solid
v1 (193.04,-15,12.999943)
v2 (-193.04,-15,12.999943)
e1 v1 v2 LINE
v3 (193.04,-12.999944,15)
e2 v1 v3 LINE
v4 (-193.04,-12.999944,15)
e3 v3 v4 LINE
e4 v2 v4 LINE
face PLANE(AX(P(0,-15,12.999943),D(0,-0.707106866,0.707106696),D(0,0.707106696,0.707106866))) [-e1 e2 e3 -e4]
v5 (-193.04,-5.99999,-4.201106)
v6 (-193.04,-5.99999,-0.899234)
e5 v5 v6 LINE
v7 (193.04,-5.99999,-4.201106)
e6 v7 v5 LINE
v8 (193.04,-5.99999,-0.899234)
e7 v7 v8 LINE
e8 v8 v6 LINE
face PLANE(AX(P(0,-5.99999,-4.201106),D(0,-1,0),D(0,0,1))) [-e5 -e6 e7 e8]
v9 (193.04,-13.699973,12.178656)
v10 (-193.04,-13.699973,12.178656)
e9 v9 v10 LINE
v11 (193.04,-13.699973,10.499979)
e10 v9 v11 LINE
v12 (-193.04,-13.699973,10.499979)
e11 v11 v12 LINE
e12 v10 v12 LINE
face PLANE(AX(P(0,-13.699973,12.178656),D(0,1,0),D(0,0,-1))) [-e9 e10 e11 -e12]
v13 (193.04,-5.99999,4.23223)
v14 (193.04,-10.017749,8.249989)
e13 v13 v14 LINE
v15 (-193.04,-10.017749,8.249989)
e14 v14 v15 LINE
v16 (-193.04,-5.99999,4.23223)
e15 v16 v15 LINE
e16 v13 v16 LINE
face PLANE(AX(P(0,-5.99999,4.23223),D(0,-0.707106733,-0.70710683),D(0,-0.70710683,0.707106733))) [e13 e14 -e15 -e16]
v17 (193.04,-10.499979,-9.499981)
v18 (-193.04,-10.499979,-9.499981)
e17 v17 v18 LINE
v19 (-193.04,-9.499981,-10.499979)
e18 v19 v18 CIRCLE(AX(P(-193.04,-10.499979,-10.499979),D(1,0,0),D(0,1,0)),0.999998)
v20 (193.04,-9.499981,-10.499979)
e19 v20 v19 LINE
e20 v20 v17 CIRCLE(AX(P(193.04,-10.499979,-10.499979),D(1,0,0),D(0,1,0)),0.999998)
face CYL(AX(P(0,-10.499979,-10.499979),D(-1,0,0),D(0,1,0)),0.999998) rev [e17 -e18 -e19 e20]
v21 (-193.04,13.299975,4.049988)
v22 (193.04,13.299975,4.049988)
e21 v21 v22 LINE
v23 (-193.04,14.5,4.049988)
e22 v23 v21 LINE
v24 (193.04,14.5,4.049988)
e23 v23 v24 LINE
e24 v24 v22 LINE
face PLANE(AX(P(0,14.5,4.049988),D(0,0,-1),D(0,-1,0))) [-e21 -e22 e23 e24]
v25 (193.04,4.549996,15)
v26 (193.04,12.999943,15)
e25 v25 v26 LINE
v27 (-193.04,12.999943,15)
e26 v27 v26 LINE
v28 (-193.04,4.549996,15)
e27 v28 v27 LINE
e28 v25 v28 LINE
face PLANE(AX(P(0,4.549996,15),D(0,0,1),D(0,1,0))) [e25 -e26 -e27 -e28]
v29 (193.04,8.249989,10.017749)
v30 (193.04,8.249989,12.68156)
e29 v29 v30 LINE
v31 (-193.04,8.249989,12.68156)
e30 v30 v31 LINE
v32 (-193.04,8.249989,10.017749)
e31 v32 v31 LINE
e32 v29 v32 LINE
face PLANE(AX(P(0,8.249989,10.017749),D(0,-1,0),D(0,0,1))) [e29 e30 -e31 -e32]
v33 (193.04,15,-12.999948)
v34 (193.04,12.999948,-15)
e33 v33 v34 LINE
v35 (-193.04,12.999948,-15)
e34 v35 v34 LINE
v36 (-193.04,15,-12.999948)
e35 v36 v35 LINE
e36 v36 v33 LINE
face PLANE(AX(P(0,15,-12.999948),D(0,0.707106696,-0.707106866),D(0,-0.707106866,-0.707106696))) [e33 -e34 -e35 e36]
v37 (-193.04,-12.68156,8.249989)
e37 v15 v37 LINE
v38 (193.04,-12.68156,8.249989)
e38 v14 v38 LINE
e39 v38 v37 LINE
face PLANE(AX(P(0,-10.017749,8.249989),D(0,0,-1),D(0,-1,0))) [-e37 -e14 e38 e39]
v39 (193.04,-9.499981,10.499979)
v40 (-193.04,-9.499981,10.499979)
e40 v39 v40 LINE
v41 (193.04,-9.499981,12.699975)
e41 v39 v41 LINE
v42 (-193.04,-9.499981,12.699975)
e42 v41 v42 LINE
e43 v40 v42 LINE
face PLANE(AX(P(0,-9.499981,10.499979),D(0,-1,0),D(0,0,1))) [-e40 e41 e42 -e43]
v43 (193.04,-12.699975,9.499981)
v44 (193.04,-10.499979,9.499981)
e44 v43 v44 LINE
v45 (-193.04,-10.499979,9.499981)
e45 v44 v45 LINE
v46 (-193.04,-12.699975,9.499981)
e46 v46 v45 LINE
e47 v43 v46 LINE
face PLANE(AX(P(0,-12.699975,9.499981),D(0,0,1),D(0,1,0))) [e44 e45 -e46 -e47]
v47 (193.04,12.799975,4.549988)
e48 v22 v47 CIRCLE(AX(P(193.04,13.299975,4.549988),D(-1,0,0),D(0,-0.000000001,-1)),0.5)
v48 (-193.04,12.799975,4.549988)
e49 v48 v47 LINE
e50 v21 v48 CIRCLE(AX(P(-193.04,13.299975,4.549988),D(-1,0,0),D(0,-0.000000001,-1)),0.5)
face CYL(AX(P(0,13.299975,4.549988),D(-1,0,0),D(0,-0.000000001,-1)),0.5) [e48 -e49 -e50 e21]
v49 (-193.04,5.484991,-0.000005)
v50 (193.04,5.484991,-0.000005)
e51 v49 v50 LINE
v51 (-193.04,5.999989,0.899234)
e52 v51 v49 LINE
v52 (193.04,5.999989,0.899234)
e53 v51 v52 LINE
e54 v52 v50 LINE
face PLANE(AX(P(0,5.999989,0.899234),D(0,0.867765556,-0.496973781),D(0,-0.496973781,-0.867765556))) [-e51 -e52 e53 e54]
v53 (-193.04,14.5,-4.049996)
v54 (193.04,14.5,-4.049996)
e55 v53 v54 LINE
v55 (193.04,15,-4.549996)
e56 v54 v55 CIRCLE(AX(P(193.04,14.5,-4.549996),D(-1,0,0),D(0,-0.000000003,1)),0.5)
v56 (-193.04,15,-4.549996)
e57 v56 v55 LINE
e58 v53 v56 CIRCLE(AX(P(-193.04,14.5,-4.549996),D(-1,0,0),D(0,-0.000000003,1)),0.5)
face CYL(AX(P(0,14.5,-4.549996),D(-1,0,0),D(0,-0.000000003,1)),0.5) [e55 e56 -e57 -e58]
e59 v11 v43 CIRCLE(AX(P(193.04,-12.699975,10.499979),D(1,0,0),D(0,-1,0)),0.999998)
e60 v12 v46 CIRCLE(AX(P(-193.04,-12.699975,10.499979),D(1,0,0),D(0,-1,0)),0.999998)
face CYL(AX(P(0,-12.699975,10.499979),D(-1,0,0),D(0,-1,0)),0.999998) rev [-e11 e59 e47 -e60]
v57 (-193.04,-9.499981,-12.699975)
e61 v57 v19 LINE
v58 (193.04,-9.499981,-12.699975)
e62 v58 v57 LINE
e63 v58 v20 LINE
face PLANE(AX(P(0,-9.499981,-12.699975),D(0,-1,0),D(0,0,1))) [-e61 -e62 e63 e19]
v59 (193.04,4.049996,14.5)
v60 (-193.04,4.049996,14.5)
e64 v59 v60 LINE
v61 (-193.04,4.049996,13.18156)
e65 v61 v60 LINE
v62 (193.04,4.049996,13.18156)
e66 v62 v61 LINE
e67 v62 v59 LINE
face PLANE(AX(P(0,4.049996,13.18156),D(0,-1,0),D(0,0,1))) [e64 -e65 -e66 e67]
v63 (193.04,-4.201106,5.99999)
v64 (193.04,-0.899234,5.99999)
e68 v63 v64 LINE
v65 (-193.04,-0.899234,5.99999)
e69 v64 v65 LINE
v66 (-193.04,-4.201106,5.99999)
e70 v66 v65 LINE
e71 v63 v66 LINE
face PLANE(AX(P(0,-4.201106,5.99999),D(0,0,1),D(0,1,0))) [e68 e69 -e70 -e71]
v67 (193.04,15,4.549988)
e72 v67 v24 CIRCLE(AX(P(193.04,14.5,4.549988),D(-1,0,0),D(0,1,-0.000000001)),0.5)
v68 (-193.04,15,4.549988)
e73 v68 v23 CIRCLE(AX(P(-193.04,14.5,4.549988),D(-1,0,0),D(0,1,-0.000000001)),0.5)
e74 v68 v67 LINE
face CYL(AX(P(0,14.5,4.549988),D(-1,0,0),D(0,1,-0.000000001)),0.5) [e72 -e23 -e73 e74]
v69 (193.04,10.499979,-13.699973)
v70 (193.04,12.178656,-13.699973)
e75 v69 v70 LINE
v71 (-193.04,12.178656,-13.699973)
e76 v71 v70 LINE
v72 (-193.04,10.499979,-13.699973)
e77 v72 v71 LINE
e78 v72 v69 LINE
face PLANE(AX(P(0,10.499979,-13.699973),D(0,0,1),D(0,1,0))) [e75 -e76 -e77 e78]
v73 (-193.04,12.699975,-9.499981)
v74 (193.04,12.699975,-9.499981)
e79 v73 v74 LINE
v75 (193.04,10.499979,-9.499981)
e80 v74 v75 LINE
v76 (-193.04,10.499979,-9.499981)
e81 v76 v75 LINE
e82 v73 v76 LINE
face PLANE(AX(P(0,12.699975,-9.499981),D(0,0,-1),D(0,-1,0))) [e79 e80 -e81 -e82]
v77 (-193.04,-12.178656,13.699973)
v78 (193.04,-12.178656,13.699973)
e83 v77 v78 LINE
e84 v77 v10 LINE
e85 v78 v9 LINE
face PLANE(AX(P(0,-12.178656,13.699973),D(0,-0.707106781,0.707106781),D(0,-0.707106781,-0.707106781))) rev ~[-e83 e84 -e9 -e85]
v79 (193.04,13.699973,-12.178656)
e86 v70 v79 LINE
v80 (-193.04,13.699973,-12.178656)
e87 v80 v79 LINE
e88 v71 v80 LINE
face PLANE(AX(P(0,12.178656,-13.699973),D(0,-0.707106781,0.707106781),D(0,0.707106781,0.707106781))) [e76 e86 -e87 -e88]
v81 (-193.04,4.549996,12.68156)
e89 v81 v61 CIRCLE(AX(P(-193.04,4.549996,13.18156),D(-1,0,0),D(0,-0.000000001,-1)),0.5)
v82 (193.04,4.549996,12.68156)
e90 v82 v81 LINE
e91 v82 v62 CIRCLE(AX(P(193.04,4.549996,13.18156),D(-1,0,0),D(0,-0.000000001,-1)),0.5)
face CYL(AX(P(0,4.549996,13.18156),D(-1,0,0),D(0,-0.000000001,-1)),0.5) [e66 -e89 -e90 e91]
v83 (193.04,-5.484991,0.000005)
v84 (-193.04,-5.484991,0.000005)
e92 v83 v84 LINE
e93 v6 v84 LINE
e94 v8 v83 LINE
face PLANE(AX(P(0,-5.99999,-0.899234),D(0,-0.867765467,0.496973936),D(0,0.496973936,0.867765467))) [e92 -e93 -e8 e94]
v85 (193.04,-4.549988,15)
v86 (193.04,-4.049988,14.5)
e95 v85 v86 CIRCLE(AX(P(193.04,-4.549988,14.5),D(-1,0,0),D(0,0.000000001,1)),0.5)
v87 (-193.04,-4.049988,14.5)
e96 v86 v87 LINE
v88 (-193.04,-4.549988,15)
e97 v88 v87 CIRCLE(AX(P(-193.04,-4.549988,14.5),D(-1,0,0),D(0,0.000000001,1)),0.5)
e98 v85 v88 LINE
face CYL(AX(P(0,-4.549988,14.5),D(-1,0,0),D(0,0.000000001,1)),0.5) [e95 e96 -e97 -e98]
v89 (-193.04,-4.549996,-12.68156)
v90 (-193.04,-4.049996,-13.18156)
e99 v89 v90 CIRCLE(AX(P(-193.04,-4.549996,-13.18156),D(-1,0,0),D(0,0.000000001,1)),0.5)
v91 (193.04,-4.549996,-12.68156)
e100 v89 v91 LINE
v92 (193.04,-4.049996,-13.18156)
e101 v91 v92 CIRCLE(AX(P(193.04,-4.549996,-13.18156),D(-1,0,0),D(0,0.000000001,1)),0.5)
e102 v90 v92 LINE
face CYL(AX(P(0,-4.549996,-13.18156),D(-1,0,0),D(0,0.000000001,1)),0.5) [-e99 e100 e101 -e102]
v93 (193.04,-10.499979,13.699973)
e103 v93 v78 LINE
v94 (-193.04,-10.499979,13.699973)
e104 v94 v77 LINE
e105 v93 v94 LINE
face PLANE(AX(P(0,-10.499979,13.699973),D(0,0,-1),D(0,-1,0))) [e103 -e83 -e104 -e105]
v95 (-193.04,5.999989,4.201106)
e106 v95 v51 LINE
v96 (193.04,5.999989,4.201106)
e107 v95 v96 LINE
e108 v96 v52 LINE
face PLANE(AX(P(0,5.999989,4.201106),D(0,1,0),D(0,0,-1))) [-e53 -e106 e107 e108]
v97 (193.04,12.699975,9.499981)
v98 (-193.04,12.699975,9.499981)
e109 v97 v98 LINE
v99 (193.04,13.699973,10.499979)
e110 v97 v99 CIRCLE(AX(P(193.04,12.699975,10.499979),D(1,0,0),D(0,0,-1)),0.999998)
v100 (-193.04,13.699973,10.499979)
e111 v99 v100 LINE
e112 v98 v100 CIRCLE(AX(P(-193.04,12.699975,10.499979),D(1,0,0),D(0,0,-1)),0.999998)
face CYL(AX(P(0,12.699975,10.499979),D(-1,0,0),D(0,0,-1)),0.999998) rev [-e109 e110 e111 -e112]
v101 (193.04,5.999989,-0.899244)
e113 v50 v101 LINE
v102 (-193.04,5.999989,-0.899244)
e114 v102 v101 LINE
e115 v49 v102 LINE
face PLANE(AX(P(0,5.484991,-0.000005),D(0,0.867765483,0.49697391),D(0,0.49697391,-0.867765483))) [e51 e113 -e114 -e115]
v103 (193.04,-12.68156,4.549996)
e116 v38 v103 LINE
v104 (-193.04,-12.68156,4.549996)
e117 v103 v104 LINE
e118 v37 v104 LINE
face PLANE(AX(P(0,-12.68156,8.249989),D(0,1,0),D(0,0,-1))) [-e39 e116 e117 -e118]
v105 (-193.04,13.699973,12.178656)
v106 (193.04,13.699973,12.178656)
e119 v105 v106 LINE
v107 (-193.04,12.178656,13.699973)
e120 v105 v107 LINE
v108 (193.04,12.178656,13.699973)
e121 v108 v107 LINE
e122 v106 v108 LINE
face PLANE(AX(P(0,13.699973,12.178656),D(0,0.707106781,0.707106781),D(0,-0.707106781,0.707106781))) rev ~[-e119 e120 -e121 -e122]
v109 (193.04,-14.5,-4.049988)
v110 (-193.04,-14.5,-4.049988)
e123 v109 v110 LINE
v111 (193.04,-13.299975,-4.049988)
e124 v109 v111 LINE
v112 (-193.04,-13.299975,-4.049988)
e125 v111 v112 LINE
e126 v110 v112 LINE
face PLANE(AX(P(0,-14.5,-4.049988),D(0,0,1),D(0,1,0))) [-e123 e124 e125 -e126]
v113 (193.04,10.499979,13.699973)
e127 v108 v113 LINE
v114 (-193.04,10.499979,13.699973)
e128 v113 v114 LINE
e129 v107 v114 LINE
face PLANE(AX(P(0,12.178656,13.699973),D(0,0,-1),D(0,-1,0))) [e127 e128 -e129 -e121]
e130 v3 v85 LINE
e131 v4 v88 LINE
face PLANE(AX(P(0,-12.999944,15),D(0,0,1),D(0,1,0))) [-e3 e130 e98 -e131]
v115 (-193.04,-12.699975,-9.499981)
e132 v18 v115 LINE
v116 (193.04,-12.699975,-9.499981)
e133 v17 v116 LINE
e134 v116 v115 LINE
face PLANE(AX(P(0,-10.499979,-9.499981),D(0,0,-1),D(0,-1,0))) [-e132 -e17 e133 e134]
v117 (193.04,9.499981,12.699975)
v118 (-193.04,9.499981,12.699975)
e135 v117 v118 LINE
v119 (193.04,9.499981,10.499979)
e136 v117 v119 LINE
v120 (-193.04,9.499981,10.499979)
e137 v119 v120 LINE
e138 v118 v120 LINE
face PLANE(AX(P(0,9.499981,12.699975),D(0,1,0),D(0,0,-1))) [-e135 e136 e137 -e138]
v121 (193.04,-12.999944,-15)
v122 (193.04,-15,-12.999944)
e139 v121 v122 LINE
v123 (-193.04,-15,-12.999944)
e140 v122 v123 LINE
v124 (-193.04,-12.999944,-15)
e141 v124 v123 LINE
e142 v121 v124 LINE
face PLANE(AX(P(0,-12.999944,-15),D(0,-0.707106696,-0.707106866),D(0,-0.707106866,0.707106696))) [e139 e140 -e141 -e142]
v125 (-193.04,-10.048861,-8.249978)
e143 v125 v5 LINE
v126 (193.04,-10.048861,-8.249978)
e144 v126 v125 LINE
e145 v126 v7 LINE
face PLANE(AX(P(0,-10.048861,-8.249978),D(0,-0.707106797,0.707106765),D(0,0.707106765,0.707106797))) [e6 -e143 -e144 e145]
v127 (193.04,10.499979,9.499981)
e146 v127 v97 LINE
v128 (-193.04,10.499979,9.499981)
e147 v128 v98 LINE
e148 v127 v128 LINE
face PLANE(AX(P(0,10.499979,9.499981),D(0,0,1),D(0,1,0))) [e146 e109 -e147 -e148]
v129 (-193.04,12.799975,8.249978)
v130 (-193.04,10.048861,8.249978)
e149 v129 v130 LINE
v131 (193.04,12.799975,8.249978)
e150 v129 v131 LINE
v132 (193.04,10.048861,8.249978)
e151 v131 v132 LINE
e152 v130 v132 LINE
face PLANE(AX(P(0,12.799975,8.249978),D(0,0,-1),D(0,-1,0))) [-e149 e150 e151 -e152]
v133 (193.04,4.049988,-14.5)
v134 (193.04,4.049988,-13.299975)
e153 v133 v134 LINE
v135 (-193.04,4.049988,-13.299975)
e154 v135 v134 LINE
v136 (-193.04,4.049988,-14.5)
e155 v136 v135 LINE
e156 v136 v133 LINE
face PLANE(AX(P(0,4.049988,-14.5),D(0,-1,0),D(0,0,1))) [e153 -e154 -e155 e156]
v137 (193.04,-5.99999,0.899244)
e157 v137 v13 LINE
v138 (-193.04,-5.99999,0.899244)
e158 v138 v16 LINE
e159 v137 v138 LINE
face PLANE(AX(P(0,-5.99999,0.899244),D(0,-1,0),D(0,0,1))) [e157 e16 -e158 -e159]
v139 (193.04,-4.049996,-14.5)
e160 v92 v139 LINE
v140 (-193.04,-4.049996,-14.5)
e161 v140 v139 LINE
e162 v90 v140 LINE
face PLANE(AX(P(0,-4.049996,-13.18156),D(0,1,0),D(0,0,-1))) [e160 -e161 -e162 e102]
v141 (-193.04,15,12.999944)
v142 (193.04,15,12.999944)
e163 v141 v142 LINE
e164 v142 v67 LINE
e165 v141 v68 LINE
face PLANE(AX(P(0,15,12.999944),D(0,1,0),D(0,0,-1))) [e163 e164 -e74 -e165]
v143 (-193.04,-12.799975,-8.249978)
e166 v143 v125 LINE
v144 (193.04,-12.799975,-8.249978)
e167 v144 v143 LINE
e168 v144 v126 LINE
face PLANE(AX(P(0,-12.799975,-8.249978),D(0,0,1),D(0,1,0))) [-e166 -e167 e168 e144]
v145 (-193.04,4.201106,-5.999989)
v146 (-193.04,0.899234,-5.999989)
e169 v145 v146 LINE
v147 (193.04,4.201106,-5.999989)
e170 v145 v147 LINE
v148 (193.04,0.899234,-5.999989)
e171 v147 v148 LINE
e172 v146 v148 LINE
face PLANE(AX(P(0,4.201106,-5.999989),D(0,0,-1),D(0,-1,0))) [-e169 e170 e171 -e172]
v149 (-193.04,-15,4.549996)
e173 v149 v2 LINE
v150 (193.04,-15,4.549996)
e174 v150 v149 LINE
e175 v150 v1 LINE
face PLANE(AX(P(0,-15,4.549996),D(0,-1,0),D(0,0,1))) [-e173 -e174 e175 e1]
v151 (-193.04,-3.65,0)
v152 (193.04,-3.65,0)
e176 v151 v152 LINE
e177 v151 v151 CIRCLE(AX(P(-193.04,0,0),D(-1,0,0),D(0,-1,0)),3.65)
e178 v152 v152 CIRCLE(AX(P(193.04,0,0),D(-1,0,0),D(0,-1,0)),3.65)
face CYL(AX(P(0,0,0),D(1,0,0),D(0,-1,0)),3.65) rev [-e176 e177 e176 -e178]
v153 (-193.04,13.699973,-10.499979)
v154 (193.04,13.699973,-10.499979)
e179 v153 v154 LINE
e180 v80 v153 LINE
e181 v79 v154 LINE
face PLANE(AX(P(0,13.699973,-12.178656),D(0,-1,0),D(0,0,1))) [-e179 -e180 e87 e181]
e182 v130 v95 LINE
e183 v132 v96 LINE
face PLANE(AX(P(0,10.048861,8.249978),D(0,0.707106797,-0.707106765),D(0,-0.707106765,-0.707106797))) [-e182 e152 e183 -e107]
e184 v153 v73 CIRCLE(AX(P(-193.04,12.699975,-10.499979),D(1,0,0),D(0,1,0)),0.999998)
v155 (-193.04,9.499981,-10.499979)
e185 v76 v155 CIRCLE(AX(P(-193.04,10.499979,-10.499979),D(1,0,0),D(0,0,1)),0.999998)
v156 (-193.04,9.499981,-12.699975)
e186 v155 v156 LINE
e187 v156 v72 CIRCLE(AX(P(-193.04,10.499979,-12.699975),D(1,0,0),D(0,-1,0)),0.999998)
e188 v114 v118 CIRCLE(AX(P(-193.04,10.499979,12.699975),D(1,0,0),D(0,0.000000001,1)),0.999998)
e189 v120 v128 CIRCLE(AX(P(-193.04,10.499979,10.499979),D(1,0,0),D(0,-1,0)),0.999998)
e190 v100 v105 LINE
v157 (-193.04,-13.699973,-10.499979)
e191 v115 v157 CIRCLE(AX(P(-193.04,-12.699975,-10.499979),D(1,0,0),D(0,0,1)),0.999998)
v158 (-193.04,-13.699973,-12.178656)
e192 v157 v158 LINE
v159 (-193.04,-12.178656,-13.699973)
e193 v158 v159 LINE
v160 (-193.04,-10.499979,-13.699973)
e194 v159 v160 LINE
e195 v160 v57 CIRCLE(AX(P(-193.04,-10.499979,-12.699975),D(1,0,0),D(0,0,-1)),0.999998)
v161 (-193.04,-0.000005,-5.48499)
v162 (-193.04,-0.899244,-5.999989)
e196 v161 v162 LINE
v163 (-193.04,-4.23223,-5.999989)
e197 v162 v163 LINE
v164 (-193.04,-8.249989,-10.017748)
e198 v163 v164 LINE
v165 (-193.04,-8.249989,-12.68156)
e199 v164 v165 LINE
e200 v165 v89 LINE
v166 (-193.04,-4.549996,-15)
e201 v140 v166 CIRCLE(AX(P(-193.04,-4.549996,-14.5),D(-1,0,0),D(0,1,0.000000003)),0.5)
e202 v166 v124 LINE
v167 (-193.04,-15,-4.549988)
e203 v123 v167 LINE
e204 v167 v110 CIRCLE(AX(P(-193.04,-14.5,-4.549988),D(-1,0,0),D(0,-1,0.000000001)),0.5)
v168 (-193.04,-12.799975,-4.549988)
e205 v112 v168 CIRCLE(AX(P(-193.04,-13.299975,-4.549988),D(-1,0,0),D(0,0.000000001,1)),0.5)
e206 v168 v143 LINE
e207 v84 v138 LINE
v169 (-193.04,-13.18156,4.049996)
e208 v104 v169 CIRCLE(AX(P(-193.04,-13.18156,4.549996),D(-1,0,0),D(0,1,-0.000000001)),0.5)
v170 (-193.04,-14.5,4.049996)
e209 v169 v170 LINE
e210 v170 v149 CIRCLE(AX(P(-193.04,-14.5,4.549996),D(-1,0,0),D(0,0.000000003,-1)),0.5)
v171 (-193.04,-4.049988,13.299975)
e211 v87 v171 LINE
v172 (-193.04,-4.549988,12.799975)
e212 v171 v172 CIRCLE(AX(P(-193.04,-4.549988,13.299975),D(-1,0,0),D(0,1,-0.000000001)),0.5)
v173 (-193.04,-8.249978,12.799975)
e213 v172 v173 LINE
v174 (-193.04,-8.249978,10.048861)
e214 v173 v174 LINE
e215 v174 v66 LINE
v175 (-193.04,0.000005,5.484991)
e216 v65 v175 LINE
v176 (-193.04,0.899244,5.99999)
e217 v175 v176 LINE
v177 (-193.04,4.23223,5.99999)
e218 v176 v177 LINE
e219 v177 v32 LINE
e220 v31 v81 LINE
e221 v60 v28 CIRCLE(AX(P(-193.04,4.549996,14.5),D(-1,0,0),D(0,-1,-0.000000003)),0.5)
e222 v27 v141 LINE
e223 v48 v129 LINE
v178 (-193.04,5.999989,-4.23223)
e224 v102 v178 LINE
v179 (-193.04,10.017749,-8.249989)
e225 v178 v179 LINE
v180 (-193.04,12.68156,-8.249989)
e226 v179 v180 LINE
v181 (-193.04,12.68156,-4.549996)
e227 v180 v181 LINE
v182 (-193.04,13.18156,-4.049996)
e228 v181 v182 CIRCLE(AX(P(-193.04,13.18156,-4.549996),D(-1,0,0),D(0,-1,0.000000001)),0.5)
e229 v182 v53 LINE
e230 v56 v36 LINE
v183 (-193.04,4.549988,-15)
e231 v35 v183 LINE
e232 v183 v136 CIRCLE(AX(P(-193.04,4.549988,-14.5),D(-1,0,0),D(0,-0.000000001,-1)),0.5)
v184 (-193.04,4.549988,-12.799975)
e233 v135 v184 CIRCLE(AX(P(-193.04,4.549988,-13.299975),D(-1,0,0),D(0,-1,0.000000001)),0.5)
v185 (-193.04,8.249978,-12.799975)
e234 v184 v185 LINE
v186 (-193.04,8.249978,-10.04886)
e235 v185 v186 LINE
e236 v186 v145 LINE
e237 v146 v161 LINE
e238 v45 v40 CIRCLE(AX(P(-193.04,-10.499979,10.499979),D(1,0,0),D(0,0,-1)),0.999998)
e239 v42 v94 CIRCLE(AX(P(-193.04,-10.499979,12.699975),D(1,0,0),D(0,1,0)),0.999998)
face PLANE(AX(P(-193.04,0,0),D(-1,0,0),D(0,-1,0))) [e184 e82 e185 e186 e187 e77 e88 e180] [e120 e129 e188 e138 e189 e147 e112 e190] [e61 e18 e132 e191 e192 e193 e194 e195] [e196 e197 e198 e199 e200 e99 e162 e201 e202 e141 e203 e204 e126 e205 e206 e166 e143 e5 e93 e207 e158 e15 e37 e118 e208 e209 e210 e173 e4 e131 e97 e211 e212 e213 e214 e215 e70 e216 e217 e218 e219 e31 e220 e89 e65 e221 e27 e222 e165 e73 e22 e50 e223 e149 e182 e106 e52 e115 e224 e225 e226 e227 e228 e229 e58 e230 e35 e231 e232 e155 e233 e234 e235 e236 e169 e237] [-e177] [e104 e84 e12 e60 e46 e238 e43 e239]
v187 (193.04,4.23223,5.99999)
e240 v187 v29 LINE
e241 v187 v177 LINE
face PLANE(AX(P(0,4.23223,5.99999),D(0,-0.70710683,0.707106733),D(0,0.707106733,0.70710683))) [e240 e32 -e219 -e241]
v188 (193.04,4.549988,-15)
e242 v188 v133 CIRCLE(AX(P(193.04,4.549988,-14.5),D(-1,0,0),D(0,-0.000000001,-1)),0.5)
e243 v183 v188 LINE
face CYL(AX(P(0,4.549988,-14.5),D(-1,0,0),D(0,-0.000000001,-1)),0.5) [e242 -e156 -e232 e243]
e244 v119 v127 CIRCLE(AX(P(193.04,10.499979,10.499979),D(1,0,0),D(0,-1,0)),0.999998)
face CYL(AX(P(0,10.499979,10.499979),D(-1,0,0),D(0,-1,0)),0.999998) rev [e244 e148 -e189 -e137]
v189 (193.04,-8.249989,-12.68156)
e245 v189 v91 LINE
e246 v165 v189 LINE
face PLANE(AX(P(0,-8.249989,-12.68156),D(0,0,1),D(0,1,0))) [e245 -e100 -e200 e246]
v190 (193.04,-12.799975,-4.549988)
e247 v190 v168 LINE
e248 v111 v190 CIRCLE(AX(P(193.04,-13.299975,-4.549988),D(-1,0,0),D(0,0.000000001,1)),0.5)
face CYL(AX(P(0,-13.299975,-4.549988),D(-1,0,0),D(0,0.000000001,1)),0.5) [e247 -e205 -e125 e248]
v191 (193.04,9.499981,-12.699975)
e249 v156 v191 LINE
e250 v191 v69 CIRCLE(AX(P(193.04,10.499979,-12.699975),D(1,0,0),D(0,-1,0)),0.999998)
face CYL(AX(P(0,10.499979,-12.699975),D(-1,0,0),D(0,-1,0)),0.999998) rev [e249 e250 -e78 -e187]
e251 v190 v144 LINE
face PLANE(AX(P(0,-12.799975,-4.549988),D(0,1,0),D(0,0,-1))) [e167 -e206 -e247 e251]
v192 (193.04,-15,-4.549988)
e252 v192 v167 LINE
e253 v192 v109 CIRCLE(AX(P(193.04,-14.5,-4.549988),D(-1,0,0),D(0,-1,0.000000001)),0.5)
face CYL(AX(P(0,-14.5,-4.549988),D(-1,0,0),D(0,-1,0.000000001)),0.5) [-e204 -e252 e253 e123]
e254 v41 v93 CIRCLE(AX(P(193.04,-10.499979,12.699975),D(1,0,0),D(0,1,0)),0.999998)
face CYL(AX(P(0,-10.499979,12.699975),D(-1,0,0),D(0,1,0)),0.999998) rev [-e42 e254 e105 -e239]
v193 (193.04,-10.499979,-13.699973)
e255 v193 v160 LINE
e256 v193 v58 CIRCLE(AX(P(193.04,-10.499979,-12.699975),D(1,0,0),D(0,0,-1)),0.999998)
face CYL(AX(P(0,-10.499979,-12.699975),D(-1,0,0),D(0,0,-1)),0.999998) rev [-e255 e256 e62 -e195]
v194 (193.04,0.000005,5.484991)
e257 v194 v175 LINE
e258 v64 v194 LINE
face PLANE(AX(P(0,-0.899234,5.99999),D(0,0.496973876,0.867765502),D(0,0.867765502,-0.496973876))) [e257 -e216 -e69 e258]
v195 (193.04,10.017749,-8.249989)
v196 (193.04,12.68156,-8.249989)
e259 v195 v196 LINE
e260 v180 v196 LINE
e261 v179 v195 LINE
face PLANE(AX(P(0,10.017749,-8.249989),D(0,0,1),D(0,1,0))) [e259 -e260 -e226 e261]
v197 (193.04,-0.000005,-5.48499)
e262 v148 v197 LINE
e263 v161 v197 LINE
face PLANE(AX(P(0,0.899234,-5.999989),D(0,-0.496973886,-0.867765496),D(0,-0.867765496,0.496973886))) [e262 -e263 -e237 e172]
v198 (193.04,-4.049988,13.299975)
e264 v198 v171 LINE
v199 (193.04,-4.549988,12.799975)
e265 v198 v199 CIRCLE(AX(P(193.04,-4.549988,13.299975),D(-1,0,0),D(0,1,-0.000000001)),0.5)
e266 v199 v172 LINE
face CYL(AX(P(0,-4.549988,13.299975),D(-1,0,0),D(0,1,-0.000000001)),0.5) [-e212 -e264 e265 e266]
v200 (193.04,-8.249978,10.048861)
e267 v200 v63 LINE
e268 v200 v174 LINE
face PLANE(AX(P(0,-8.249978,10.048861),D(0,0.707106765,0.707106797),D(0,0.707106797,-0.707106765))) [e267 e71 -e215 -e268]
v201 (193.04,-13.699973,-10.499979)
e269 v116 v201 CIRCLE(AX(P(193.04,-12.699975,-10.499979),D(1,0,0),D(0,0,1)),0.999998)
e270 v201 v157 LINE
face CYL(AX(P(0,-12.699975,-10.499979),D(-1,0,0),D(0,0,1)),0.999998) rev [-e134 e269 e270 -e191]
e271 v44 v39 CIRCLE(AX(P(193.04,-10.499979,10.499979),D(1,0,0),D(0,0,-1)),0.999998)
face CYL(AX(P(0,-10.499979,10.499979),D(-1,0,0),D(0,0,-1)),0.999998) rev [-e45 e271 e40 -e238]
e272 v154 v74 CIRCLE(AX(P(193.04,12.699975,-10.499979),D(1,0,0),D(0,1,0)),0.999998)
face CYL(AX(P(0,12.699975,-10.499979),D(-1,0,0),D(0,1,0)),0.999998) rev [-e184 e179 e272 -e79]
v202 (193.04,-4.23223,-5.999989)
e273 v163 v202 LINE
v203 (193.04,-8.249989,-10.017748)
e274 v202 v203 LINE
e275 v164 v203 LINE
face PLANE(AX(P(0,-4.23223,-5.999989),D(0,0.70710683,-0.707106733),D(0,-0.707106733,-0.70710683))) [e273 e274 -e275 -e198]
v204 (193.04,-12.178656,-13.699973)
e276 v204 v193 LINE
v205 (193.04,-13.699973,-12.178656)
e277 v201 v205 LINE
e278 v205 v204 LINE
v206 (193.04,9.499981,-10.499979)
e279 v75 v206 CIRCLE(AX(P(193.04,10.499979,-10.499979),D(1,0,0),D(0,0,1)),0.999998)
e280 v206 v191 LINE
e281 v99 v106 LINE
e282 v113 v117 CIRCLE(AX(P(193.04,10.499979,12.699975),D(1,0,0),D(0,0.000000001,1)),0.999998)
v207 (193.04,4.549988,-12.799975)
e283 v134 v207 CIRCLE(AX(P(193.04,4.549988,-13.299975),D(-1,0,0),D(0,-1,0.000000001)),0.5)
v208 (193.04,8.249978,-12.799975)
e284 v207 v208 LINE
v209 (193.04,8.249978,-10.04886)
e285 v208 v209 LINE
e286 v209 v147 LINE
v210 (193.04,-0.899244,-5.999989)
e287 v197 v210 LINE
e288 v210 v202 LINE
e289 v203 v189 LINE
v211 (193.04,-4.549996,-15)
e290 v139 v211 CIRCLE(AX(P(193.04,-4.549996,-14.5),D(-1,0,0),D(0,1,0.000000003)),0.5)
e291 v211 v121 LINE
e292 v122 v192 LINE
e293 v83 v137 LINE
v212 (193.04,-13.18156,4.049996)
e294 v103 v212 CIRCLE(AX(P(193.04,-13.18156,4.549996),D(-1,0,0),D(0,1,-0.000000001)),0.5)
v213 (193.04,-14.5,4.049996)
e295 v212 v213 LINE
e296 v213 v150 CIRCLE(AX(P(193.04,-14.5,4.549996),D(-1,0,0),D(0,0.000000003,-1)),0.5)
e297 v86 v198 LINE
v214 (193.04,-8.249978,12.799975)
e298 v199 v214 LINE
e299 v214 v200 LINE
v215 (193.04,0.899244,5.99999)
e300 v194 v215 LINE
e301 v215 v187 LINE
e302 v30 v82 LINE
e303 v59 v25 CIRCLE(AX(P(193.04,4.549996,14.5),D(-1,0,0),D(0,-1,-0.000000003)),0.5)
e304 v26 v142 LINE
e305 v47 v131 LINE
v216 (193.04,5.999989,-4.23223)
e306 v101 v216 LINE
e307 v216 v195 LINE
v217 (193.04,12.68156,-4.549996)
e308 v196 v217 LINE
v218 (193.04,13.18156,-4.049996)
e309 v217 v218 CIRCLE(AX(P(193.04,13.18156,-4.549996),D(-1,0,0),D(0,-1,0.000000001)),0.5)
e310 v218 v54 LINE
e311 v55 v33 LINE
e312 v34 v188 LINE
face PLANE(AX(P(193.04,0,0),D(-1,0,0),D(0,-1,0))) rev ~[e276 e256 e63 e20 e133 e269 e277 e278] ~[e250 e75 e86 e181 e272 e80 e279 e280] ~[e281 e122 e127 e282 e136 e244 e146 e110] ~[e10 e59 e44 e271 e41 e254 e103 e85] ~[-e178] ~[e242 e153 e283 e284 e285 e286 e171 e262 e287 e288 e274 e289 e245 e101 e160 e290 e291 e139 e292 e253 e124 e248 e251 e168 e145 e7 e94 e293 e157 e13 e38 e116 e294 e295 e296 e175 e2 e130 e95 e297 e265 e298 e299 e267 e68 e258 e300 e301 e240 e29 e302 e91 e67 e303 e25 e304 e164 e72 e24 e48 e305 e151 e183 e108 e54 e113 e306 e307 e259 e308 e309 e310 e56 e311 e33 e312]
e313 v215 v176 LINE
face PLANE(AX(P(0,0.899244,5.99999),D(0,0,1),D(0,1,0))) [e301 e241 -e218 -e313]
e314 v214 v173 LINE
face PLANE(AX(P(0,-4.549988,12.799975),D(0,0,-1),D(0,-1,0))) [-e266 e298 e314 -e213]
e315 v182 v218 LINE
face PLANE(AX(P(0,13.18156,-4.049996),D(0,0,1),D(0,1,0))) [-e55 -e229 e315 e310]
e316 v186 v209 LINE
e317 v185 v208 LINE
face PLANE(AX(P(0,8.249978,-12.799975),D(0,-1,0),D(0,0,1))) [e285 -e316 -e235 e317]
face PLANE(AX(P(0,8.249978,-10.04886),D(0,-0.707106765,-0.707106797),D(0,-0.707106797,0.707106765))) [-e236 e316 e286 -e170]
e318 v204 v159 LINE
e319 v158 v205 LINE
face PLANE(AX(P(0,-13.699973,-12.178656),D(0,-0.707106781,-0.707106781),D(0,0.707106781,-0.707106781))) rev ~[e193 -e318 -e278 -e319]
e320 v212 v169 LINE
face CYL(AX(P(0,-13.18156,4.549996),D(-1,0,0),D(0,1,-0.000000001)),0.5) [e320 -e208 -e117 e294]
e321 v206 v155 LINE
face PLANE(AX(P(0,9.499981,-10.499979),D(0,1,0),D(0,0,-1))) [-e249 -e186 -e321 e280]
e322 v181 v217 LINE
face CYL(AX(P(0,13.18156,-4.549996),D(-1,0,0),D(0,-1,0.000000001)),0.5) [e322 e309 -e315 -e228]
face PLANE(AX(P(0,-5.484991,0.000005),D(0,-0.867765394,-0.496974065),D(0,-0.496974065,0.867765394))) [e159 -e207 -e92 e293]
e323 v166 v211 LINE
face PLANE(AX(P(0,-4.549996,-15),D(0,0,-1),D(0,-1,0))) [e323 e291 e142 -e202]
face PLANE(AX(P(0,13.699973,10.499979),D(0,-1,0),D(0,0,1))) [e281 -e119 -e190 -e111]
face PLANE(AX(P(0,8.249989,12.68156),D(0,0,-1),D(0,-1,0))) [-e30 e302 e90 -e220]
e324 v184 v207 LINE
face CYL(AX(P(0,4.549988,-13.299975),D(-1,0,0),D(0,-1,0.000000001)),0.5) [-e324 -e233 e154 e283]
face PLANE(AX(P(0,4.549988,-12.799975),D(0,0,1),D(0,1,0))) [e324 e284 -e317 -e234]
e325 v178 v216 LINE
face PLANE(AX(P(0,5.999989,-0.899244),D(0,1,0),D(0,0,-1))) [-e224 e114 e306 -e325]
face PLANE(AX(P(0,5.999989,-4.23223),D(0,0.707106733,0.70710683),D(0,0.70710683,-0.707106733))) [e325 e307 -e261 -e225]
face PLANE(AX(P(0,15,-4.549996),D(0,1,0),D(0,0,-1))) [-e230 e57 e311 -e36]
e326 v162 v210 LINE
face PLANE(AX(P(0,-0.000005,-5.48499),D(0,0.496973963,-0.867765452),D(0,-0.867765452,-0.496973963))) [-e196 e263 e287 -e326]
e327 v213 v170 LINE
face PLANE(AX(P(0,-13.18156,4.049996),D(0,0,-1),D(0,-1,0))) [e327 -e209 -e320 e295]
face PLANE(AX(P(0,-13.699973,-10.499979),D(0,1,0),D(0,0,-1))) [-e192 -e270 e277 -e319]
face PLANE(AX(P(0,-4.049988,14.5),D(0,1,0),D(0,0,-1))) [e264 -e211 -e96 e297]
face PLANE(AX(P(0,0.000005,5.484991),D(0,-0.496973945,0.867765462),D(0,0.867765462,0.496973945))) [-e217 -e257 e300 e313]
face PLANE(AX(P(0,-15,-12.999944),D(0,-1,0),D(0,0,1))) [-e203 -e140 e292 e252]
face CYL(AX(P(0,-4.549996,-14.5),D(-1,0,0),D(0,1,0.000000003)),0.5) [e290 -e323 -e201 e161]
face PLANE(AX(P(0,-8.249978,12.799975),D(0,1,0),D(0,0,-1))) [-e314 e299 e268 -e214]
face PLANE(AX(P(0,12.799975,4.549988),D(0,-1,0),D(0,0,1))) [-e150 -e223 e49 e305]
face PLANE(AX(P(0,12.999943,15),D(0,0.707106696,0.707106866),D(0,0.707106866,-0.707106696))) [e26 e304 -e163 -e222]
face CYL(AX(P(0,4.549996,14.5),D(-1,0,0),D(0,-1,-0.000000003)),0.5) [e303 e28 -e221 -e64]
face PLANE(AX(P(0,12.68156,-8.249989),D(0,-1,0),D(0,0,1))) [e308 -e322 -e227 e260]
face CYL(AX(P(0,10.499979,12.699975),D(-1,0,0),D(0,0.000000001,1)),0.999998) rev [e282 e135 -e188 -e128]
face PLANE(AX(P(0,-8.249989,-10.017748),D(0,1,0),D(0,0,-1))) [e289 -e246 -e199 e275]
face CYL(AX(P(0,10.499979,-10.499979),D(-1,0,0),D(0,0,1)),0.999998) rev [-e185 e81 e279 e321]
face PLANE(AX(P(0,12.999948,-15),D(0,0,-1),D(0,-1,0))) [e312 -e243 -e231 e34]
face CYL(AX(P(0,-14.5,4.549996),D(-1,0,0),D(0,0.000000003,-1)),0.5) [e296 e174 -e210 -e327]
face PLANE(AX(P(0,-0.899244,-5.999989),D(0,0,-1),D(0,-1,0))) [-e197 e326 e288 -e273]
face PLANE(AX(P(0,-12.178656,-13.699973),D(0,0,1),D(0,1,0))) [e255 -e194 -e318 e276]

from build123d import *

# Parameters (mm, degrees)
SKETCH1_R          = 3.65
MAIN_EXTRUDE_DEPTH = 193.04


with BuildPart() as part:
    # Sketch1 → main Extrude (new body, symmetric)
    with BuildSketch(Plane(origin=(0, 0, 0), x_dir=(0, -1, 0), z_dir=(-1, 0, 0))):
        with BuildLine():
            Line((4.549996167, -15), (12.999943754, -15))
            Line((12.999943754, -15), (15, -12.999944234))
            Line((15, -12.999944234), (15, -4.54998765))
            ThreePointArc((15, -4.54998765), (14.853553391, -4.19643426), (14.5, -4.04998765))
            Line((14.5, -4.04998765), (13.299974565, -4.04998765))
            ThreePointArc((13.299974565, -4.04998765), (12.946421174, -4.19643426), (12.799974565, -4.54998765))
            Line((12.799974565, -4.54998765), (12.799974565, -8.249978163))
            Line((12.799974565, -8.249978163), (10.04886106, -8.249978163))
            Line((10.04886106, -8.249978163), (5.999989561, -4.201106482))
            Line((5.999989561, -4.201106482), (5.999989561, -0.899233628))
            Line((5.999989561, -0.899233628), (5.484990531, 5.429e-06))
            Line((5.484990531, 5.429e-06), (5.999989561, 0.899244177))
            Line((5.999989561, 0.899244177), (5.999989561, 4.232229952))
            Line((5.999989561, 4.232229952), (10.017749022, 8.249988862))
            Line((10.017749022, 8.249988862), (12.681560202, 8.249988862))
            Line((12.681560202, 8.249988862), (12.681560202, 4.549996167))
            ThreePointArc((12.681560202, 4.549996167), (12.828006812, 4.196442776), (13.181560202, 4.049996167))
            Line((13.181560202, 4.049996167), (14.5, 4.049996167))
            ThreePointArc((14.5, 4.049996167), (14.853553391, 4.196442776), (15, 4.549996167))
            Line((15, 4.549996167), (15, 12.999943159))
            Line((15, 12.999943159), (12.999943639, 15))
            Line((12.999943639, 15), (4.54998765, 15))
            ThreePointArc((4.54998765, 15), (4.19643426, 14.853553391), (4.04998765, 14.5))
            Line((4.04998765, 14.5), (4.04998765, 13.299974565))
            ThreePointArc((4.04998765, 13.299974565), (4.19643426, 12.946421174), (4.54998765, 12.799974565))
            Line((4.54998765, 12.799974565), (8.249978163, 12.799974565))
            Line((8.249978163, 12.799974565), (8.249978163, 10.04886106))
            Line((8.249978163, 10.04886106), (4.201106482, 5.999989561))
            Line((4.201106482, 5.999989561), (0.899233628, 5.999989561))
            Line((0.899233628, 5.999989561), (-5.358e-06, 5.484990655))
            Line((-5.358e-06, 5.484990655), (-0.899244177, 5.999989561))
            Line((-0.899244177, 5.999989561), (-4.232229952, 5.999989561))
            Line((-4.232229952, 5.999989561), (-8.249988862, 10.017749022))
            Line((-8.249988862, 10.017749022), (-8.249988862, 12.681560202))
            Line((-8.249988862, 12.681560202), (-4.549996167, 12.681560202))
            ThreePointArc((-4.549996167, 12.681560202), (-4.196442776, 12.828006812), (-4.049996167, 13.181560202))
            Line((-4.049996167, 13.181560202), (-4.049996167, 14.5))
            ThreePointArc((-4.049996167, 14.5), (-4.196442776, 14.853553391), (-4.549996167, 15))
            Line((-4.549996167, 15), (-12.999943355, 15))
            Line((-12.999943355, 15), (-15, 12.999943836))
            Line((-15, 12.999943836), (-15, 4.54998765))
            ThreePointArc((-15, 4.54998765), (-14.853553391, 4.19643426), (-14.5, 4.04998765))
            Line((-14.5, 4.04998765), (-13.299974565, 4.04998765))
            ThreePointArc((-13.299974565, 4.04998765), (-12.946421174, 4.19643426), (-12.799974565, 4.54998765))
            Line((-12.799974565, 4.54998765), (-12.799974565, 8.249978163))
            Line((-12.799974565, 8.249978163), (-10.048860846, 8.249978163))
            Line((-10.048860846, 8.249978163), (-5.999989347, 4.201106482))
            Line((-5.999989347, 4.201106482), (-5.999989347, 0.899233628))
            Line((-5.999989347, 0.899233628), (-5.484990531, -5.429e-06))
            Line((-5.484990531, -5.429e-06), (-5.999989347, -0.899244177))
            Line((-5.999989347, -0.899244177), (-5.999989347, -4.232229952))
            Line((-5.999989347, -4.232229952), (-10.017748808, -8.249988862))
            Line((-10.017748808, -8.249988862), (-12.681560202, -8.249988862))
            Line((-12.681560202, -8.249988862), (-12.681560202, -4.549996167))
            ThreePointArc((-12.681560202, -4.549996167), (-12.828006812, -4.196442776), (-13.181560202, -4.049996167))
            Line((-13.181560202, -4.049996167), (-14.5, -4.049996167))
            ThreePointArc((-14.5, -4.049996167), (-14.853553391, -4.196442776), (-15, -4.549996167))
            Line((-15, -4.549996167), (-15, -12.999948112))
            Line((-15, -12.999948112), (-12.999947631, -15))
            Line((-12.999947631, -15), (-4.54998765, -15))
            ThreePointArc((-4.54998765, -15), (-4.19643426, -14.853553391), (-4.04998765, -14.5))
            Line((-4.04998765, -14.5), (-4.04998765, -13.299974565))
            ThreePointArc((-4.04998765, -13.299974565), (-4.19643426, -12.946421174), (-4.54998765, -12.799974565))
            Line((-4.54998765, -12.799974565), (-8.249978163, -12.799974565))
            Line((-8.249978163, -12.799974565), (-8.249978163, -10.048860449))
            Line((-8.249978163, -10.048860449), (-4.201106482, -5.999988951))
            Line((-4.201106482, -5.999988951), (-0.899233628, -5.999988951))
            Line((-0.899233628, -5.999988951), (5.367e-06, -5.484990026))
            Line((5.367e-06, -5.484990026), (0.899244177, -5.999988951))
            Line((0.899244177, -5.999988951), (4.232229952, -5.999988951))
            Line((4.232229952, -5.999988951), (8.249988862, -10.017748412))
            Line((8.249988862, -10.017748412), (8.249988862, -12.681560202))
            Line((8.249988862, -12.681560202), (4.549996167, -12.681560202))
            ThreePointArc((4.549996167, -12.681560202), (4.196442776, -12.828006812), (4.049996167, -13.181560202))
            Line((4.049996167, -13.181560202), (4.049996167, -14.5))
            ThreePointArc((4.049996167, -14.5), (4.196442776, -14.853553391), (4.549996167, -15))
        make_face()
        Circle(SKETCH1_R, mode=Mode.SUBTRACT)
        with BuildLine():
            Line((-10.499978684, 9.499980695), (-12.6999746, 9.499980695))
            ThreePointArc((-12.6999746, 9.499980695), (-13.407079967, 9.792873328), (-13.6999726, 10.499978695))
            Line((-13.6999726, 10.499978695), (-13.6999726, 12.178655581))
            Line((-13.6999726, 12.178655581), (-12.178655571, 13.69997261))
            Line((-12.178655571, 13.69997261), (-10.499978695, 13.69997261))
            ThreePointArc((-10.499978695, 13.69997261), (-9.79287332, 13.407079974), (-9.499980684, 12.6999746))
            Line((-9.499980684, 12.6999746), (-9.499980684, 10.499978695))
            ThreePointArc((-9.499980684, 10.499978695), (-9.792873317, 9.792873328), (-10.499978684, 9.499980695))
        make_face(mode=Mode.SUBTRACT)
        with BuildLine():
            Line((9.499981, 10.499978695), (9.499981, 12.69997461))
            ThreePointArc((9.499981, 12.69997461), (9.792873633, 13.407079977), (10.499979, 13.69997261))
            Line((10.499979, 13.69997261), (12.178655581, 13.69997261))
            Line((12.178655581, 13.69997261), (13.69997261, 12.178655581))
            Line((13.69997261, 12.178655581), (13.69997261, 10.499978705))
            ThreePointArc((13.69997261, 10.499978705), (13.407079974, 9.792873331), (12.6999746, 9.499980695))
            Line((12.6999746, 9.499980695), (10.499979, 9.499980695))
            ThreePointArc((10.499979, 9.499980695), (9.792873633, 9.792873328), (9.499981, 10.499978695))
        make_face(mode=Mode.SUBTRACT)
        with BuildLine():
            Line((10.499979, -9.49998099), (12.69997461, -9.49998099))
            ThreePointArc((12.69997461, -9.49998099), (13.407079977, -9.792873623), (13.69997261, -10.49997899))
            Line((13.69997261, -10.49997899), (13.69997261, -12.178655571))
            Line((13.69997261, -12.178655571), (12.178655581, -13.6999726))
            Line((12.178655581, -13.6999726), (10.49997901, -13.6999726))
            ThreePointArc((10.49997901, -13.6999726), (9.792873636, -13.407079964), (9.499981, -12.69997459))
            Line((9.499981, -12.69997459), (9.499981, -10.49997899))
            ThreePointArc((9.499981, -10.49997899), (9.792873633, -9.792873623), (10.499979, -9.49998099))
        make_face(mode=Mode.SUBTRACT)
        with BuildLine():
            Line((-9.499980684, -10.49997899), (-9.499980684, -12.6999746))
            ThreePointArc((-9.499980684, -12.6999746), (-9.792873317, -13.407079967), (-10.499978684, -13.6999726))
            Line((-10.499978684, -13.6999726), (-12.178655571, -13.6999726))
            Line((-12.178655571, -13.6999726), (-13.6999726, -12.178655571))
            Line((-13.6999726, -12.178655571), (-13.6999726, -10.499979))
            ThreePointArc((-13.6999726, -10.499979), (-13.407079964, -9.792873626), (-12.69997459, -9.49998099))
            Line((-12.69997459, -9.49998099), (-10.499978684, -9.49998099))
            ThreePointArc((-10.499978684, -9.49998099), (-9.792873317, -9.792873623), (-9.499980684, -10.49997899))
        make_face(mode=Mode.SUBTRACT)
    extrude(amount=MAIN_EXTRUDE_DEPTH, both=True)


solid = part.part
